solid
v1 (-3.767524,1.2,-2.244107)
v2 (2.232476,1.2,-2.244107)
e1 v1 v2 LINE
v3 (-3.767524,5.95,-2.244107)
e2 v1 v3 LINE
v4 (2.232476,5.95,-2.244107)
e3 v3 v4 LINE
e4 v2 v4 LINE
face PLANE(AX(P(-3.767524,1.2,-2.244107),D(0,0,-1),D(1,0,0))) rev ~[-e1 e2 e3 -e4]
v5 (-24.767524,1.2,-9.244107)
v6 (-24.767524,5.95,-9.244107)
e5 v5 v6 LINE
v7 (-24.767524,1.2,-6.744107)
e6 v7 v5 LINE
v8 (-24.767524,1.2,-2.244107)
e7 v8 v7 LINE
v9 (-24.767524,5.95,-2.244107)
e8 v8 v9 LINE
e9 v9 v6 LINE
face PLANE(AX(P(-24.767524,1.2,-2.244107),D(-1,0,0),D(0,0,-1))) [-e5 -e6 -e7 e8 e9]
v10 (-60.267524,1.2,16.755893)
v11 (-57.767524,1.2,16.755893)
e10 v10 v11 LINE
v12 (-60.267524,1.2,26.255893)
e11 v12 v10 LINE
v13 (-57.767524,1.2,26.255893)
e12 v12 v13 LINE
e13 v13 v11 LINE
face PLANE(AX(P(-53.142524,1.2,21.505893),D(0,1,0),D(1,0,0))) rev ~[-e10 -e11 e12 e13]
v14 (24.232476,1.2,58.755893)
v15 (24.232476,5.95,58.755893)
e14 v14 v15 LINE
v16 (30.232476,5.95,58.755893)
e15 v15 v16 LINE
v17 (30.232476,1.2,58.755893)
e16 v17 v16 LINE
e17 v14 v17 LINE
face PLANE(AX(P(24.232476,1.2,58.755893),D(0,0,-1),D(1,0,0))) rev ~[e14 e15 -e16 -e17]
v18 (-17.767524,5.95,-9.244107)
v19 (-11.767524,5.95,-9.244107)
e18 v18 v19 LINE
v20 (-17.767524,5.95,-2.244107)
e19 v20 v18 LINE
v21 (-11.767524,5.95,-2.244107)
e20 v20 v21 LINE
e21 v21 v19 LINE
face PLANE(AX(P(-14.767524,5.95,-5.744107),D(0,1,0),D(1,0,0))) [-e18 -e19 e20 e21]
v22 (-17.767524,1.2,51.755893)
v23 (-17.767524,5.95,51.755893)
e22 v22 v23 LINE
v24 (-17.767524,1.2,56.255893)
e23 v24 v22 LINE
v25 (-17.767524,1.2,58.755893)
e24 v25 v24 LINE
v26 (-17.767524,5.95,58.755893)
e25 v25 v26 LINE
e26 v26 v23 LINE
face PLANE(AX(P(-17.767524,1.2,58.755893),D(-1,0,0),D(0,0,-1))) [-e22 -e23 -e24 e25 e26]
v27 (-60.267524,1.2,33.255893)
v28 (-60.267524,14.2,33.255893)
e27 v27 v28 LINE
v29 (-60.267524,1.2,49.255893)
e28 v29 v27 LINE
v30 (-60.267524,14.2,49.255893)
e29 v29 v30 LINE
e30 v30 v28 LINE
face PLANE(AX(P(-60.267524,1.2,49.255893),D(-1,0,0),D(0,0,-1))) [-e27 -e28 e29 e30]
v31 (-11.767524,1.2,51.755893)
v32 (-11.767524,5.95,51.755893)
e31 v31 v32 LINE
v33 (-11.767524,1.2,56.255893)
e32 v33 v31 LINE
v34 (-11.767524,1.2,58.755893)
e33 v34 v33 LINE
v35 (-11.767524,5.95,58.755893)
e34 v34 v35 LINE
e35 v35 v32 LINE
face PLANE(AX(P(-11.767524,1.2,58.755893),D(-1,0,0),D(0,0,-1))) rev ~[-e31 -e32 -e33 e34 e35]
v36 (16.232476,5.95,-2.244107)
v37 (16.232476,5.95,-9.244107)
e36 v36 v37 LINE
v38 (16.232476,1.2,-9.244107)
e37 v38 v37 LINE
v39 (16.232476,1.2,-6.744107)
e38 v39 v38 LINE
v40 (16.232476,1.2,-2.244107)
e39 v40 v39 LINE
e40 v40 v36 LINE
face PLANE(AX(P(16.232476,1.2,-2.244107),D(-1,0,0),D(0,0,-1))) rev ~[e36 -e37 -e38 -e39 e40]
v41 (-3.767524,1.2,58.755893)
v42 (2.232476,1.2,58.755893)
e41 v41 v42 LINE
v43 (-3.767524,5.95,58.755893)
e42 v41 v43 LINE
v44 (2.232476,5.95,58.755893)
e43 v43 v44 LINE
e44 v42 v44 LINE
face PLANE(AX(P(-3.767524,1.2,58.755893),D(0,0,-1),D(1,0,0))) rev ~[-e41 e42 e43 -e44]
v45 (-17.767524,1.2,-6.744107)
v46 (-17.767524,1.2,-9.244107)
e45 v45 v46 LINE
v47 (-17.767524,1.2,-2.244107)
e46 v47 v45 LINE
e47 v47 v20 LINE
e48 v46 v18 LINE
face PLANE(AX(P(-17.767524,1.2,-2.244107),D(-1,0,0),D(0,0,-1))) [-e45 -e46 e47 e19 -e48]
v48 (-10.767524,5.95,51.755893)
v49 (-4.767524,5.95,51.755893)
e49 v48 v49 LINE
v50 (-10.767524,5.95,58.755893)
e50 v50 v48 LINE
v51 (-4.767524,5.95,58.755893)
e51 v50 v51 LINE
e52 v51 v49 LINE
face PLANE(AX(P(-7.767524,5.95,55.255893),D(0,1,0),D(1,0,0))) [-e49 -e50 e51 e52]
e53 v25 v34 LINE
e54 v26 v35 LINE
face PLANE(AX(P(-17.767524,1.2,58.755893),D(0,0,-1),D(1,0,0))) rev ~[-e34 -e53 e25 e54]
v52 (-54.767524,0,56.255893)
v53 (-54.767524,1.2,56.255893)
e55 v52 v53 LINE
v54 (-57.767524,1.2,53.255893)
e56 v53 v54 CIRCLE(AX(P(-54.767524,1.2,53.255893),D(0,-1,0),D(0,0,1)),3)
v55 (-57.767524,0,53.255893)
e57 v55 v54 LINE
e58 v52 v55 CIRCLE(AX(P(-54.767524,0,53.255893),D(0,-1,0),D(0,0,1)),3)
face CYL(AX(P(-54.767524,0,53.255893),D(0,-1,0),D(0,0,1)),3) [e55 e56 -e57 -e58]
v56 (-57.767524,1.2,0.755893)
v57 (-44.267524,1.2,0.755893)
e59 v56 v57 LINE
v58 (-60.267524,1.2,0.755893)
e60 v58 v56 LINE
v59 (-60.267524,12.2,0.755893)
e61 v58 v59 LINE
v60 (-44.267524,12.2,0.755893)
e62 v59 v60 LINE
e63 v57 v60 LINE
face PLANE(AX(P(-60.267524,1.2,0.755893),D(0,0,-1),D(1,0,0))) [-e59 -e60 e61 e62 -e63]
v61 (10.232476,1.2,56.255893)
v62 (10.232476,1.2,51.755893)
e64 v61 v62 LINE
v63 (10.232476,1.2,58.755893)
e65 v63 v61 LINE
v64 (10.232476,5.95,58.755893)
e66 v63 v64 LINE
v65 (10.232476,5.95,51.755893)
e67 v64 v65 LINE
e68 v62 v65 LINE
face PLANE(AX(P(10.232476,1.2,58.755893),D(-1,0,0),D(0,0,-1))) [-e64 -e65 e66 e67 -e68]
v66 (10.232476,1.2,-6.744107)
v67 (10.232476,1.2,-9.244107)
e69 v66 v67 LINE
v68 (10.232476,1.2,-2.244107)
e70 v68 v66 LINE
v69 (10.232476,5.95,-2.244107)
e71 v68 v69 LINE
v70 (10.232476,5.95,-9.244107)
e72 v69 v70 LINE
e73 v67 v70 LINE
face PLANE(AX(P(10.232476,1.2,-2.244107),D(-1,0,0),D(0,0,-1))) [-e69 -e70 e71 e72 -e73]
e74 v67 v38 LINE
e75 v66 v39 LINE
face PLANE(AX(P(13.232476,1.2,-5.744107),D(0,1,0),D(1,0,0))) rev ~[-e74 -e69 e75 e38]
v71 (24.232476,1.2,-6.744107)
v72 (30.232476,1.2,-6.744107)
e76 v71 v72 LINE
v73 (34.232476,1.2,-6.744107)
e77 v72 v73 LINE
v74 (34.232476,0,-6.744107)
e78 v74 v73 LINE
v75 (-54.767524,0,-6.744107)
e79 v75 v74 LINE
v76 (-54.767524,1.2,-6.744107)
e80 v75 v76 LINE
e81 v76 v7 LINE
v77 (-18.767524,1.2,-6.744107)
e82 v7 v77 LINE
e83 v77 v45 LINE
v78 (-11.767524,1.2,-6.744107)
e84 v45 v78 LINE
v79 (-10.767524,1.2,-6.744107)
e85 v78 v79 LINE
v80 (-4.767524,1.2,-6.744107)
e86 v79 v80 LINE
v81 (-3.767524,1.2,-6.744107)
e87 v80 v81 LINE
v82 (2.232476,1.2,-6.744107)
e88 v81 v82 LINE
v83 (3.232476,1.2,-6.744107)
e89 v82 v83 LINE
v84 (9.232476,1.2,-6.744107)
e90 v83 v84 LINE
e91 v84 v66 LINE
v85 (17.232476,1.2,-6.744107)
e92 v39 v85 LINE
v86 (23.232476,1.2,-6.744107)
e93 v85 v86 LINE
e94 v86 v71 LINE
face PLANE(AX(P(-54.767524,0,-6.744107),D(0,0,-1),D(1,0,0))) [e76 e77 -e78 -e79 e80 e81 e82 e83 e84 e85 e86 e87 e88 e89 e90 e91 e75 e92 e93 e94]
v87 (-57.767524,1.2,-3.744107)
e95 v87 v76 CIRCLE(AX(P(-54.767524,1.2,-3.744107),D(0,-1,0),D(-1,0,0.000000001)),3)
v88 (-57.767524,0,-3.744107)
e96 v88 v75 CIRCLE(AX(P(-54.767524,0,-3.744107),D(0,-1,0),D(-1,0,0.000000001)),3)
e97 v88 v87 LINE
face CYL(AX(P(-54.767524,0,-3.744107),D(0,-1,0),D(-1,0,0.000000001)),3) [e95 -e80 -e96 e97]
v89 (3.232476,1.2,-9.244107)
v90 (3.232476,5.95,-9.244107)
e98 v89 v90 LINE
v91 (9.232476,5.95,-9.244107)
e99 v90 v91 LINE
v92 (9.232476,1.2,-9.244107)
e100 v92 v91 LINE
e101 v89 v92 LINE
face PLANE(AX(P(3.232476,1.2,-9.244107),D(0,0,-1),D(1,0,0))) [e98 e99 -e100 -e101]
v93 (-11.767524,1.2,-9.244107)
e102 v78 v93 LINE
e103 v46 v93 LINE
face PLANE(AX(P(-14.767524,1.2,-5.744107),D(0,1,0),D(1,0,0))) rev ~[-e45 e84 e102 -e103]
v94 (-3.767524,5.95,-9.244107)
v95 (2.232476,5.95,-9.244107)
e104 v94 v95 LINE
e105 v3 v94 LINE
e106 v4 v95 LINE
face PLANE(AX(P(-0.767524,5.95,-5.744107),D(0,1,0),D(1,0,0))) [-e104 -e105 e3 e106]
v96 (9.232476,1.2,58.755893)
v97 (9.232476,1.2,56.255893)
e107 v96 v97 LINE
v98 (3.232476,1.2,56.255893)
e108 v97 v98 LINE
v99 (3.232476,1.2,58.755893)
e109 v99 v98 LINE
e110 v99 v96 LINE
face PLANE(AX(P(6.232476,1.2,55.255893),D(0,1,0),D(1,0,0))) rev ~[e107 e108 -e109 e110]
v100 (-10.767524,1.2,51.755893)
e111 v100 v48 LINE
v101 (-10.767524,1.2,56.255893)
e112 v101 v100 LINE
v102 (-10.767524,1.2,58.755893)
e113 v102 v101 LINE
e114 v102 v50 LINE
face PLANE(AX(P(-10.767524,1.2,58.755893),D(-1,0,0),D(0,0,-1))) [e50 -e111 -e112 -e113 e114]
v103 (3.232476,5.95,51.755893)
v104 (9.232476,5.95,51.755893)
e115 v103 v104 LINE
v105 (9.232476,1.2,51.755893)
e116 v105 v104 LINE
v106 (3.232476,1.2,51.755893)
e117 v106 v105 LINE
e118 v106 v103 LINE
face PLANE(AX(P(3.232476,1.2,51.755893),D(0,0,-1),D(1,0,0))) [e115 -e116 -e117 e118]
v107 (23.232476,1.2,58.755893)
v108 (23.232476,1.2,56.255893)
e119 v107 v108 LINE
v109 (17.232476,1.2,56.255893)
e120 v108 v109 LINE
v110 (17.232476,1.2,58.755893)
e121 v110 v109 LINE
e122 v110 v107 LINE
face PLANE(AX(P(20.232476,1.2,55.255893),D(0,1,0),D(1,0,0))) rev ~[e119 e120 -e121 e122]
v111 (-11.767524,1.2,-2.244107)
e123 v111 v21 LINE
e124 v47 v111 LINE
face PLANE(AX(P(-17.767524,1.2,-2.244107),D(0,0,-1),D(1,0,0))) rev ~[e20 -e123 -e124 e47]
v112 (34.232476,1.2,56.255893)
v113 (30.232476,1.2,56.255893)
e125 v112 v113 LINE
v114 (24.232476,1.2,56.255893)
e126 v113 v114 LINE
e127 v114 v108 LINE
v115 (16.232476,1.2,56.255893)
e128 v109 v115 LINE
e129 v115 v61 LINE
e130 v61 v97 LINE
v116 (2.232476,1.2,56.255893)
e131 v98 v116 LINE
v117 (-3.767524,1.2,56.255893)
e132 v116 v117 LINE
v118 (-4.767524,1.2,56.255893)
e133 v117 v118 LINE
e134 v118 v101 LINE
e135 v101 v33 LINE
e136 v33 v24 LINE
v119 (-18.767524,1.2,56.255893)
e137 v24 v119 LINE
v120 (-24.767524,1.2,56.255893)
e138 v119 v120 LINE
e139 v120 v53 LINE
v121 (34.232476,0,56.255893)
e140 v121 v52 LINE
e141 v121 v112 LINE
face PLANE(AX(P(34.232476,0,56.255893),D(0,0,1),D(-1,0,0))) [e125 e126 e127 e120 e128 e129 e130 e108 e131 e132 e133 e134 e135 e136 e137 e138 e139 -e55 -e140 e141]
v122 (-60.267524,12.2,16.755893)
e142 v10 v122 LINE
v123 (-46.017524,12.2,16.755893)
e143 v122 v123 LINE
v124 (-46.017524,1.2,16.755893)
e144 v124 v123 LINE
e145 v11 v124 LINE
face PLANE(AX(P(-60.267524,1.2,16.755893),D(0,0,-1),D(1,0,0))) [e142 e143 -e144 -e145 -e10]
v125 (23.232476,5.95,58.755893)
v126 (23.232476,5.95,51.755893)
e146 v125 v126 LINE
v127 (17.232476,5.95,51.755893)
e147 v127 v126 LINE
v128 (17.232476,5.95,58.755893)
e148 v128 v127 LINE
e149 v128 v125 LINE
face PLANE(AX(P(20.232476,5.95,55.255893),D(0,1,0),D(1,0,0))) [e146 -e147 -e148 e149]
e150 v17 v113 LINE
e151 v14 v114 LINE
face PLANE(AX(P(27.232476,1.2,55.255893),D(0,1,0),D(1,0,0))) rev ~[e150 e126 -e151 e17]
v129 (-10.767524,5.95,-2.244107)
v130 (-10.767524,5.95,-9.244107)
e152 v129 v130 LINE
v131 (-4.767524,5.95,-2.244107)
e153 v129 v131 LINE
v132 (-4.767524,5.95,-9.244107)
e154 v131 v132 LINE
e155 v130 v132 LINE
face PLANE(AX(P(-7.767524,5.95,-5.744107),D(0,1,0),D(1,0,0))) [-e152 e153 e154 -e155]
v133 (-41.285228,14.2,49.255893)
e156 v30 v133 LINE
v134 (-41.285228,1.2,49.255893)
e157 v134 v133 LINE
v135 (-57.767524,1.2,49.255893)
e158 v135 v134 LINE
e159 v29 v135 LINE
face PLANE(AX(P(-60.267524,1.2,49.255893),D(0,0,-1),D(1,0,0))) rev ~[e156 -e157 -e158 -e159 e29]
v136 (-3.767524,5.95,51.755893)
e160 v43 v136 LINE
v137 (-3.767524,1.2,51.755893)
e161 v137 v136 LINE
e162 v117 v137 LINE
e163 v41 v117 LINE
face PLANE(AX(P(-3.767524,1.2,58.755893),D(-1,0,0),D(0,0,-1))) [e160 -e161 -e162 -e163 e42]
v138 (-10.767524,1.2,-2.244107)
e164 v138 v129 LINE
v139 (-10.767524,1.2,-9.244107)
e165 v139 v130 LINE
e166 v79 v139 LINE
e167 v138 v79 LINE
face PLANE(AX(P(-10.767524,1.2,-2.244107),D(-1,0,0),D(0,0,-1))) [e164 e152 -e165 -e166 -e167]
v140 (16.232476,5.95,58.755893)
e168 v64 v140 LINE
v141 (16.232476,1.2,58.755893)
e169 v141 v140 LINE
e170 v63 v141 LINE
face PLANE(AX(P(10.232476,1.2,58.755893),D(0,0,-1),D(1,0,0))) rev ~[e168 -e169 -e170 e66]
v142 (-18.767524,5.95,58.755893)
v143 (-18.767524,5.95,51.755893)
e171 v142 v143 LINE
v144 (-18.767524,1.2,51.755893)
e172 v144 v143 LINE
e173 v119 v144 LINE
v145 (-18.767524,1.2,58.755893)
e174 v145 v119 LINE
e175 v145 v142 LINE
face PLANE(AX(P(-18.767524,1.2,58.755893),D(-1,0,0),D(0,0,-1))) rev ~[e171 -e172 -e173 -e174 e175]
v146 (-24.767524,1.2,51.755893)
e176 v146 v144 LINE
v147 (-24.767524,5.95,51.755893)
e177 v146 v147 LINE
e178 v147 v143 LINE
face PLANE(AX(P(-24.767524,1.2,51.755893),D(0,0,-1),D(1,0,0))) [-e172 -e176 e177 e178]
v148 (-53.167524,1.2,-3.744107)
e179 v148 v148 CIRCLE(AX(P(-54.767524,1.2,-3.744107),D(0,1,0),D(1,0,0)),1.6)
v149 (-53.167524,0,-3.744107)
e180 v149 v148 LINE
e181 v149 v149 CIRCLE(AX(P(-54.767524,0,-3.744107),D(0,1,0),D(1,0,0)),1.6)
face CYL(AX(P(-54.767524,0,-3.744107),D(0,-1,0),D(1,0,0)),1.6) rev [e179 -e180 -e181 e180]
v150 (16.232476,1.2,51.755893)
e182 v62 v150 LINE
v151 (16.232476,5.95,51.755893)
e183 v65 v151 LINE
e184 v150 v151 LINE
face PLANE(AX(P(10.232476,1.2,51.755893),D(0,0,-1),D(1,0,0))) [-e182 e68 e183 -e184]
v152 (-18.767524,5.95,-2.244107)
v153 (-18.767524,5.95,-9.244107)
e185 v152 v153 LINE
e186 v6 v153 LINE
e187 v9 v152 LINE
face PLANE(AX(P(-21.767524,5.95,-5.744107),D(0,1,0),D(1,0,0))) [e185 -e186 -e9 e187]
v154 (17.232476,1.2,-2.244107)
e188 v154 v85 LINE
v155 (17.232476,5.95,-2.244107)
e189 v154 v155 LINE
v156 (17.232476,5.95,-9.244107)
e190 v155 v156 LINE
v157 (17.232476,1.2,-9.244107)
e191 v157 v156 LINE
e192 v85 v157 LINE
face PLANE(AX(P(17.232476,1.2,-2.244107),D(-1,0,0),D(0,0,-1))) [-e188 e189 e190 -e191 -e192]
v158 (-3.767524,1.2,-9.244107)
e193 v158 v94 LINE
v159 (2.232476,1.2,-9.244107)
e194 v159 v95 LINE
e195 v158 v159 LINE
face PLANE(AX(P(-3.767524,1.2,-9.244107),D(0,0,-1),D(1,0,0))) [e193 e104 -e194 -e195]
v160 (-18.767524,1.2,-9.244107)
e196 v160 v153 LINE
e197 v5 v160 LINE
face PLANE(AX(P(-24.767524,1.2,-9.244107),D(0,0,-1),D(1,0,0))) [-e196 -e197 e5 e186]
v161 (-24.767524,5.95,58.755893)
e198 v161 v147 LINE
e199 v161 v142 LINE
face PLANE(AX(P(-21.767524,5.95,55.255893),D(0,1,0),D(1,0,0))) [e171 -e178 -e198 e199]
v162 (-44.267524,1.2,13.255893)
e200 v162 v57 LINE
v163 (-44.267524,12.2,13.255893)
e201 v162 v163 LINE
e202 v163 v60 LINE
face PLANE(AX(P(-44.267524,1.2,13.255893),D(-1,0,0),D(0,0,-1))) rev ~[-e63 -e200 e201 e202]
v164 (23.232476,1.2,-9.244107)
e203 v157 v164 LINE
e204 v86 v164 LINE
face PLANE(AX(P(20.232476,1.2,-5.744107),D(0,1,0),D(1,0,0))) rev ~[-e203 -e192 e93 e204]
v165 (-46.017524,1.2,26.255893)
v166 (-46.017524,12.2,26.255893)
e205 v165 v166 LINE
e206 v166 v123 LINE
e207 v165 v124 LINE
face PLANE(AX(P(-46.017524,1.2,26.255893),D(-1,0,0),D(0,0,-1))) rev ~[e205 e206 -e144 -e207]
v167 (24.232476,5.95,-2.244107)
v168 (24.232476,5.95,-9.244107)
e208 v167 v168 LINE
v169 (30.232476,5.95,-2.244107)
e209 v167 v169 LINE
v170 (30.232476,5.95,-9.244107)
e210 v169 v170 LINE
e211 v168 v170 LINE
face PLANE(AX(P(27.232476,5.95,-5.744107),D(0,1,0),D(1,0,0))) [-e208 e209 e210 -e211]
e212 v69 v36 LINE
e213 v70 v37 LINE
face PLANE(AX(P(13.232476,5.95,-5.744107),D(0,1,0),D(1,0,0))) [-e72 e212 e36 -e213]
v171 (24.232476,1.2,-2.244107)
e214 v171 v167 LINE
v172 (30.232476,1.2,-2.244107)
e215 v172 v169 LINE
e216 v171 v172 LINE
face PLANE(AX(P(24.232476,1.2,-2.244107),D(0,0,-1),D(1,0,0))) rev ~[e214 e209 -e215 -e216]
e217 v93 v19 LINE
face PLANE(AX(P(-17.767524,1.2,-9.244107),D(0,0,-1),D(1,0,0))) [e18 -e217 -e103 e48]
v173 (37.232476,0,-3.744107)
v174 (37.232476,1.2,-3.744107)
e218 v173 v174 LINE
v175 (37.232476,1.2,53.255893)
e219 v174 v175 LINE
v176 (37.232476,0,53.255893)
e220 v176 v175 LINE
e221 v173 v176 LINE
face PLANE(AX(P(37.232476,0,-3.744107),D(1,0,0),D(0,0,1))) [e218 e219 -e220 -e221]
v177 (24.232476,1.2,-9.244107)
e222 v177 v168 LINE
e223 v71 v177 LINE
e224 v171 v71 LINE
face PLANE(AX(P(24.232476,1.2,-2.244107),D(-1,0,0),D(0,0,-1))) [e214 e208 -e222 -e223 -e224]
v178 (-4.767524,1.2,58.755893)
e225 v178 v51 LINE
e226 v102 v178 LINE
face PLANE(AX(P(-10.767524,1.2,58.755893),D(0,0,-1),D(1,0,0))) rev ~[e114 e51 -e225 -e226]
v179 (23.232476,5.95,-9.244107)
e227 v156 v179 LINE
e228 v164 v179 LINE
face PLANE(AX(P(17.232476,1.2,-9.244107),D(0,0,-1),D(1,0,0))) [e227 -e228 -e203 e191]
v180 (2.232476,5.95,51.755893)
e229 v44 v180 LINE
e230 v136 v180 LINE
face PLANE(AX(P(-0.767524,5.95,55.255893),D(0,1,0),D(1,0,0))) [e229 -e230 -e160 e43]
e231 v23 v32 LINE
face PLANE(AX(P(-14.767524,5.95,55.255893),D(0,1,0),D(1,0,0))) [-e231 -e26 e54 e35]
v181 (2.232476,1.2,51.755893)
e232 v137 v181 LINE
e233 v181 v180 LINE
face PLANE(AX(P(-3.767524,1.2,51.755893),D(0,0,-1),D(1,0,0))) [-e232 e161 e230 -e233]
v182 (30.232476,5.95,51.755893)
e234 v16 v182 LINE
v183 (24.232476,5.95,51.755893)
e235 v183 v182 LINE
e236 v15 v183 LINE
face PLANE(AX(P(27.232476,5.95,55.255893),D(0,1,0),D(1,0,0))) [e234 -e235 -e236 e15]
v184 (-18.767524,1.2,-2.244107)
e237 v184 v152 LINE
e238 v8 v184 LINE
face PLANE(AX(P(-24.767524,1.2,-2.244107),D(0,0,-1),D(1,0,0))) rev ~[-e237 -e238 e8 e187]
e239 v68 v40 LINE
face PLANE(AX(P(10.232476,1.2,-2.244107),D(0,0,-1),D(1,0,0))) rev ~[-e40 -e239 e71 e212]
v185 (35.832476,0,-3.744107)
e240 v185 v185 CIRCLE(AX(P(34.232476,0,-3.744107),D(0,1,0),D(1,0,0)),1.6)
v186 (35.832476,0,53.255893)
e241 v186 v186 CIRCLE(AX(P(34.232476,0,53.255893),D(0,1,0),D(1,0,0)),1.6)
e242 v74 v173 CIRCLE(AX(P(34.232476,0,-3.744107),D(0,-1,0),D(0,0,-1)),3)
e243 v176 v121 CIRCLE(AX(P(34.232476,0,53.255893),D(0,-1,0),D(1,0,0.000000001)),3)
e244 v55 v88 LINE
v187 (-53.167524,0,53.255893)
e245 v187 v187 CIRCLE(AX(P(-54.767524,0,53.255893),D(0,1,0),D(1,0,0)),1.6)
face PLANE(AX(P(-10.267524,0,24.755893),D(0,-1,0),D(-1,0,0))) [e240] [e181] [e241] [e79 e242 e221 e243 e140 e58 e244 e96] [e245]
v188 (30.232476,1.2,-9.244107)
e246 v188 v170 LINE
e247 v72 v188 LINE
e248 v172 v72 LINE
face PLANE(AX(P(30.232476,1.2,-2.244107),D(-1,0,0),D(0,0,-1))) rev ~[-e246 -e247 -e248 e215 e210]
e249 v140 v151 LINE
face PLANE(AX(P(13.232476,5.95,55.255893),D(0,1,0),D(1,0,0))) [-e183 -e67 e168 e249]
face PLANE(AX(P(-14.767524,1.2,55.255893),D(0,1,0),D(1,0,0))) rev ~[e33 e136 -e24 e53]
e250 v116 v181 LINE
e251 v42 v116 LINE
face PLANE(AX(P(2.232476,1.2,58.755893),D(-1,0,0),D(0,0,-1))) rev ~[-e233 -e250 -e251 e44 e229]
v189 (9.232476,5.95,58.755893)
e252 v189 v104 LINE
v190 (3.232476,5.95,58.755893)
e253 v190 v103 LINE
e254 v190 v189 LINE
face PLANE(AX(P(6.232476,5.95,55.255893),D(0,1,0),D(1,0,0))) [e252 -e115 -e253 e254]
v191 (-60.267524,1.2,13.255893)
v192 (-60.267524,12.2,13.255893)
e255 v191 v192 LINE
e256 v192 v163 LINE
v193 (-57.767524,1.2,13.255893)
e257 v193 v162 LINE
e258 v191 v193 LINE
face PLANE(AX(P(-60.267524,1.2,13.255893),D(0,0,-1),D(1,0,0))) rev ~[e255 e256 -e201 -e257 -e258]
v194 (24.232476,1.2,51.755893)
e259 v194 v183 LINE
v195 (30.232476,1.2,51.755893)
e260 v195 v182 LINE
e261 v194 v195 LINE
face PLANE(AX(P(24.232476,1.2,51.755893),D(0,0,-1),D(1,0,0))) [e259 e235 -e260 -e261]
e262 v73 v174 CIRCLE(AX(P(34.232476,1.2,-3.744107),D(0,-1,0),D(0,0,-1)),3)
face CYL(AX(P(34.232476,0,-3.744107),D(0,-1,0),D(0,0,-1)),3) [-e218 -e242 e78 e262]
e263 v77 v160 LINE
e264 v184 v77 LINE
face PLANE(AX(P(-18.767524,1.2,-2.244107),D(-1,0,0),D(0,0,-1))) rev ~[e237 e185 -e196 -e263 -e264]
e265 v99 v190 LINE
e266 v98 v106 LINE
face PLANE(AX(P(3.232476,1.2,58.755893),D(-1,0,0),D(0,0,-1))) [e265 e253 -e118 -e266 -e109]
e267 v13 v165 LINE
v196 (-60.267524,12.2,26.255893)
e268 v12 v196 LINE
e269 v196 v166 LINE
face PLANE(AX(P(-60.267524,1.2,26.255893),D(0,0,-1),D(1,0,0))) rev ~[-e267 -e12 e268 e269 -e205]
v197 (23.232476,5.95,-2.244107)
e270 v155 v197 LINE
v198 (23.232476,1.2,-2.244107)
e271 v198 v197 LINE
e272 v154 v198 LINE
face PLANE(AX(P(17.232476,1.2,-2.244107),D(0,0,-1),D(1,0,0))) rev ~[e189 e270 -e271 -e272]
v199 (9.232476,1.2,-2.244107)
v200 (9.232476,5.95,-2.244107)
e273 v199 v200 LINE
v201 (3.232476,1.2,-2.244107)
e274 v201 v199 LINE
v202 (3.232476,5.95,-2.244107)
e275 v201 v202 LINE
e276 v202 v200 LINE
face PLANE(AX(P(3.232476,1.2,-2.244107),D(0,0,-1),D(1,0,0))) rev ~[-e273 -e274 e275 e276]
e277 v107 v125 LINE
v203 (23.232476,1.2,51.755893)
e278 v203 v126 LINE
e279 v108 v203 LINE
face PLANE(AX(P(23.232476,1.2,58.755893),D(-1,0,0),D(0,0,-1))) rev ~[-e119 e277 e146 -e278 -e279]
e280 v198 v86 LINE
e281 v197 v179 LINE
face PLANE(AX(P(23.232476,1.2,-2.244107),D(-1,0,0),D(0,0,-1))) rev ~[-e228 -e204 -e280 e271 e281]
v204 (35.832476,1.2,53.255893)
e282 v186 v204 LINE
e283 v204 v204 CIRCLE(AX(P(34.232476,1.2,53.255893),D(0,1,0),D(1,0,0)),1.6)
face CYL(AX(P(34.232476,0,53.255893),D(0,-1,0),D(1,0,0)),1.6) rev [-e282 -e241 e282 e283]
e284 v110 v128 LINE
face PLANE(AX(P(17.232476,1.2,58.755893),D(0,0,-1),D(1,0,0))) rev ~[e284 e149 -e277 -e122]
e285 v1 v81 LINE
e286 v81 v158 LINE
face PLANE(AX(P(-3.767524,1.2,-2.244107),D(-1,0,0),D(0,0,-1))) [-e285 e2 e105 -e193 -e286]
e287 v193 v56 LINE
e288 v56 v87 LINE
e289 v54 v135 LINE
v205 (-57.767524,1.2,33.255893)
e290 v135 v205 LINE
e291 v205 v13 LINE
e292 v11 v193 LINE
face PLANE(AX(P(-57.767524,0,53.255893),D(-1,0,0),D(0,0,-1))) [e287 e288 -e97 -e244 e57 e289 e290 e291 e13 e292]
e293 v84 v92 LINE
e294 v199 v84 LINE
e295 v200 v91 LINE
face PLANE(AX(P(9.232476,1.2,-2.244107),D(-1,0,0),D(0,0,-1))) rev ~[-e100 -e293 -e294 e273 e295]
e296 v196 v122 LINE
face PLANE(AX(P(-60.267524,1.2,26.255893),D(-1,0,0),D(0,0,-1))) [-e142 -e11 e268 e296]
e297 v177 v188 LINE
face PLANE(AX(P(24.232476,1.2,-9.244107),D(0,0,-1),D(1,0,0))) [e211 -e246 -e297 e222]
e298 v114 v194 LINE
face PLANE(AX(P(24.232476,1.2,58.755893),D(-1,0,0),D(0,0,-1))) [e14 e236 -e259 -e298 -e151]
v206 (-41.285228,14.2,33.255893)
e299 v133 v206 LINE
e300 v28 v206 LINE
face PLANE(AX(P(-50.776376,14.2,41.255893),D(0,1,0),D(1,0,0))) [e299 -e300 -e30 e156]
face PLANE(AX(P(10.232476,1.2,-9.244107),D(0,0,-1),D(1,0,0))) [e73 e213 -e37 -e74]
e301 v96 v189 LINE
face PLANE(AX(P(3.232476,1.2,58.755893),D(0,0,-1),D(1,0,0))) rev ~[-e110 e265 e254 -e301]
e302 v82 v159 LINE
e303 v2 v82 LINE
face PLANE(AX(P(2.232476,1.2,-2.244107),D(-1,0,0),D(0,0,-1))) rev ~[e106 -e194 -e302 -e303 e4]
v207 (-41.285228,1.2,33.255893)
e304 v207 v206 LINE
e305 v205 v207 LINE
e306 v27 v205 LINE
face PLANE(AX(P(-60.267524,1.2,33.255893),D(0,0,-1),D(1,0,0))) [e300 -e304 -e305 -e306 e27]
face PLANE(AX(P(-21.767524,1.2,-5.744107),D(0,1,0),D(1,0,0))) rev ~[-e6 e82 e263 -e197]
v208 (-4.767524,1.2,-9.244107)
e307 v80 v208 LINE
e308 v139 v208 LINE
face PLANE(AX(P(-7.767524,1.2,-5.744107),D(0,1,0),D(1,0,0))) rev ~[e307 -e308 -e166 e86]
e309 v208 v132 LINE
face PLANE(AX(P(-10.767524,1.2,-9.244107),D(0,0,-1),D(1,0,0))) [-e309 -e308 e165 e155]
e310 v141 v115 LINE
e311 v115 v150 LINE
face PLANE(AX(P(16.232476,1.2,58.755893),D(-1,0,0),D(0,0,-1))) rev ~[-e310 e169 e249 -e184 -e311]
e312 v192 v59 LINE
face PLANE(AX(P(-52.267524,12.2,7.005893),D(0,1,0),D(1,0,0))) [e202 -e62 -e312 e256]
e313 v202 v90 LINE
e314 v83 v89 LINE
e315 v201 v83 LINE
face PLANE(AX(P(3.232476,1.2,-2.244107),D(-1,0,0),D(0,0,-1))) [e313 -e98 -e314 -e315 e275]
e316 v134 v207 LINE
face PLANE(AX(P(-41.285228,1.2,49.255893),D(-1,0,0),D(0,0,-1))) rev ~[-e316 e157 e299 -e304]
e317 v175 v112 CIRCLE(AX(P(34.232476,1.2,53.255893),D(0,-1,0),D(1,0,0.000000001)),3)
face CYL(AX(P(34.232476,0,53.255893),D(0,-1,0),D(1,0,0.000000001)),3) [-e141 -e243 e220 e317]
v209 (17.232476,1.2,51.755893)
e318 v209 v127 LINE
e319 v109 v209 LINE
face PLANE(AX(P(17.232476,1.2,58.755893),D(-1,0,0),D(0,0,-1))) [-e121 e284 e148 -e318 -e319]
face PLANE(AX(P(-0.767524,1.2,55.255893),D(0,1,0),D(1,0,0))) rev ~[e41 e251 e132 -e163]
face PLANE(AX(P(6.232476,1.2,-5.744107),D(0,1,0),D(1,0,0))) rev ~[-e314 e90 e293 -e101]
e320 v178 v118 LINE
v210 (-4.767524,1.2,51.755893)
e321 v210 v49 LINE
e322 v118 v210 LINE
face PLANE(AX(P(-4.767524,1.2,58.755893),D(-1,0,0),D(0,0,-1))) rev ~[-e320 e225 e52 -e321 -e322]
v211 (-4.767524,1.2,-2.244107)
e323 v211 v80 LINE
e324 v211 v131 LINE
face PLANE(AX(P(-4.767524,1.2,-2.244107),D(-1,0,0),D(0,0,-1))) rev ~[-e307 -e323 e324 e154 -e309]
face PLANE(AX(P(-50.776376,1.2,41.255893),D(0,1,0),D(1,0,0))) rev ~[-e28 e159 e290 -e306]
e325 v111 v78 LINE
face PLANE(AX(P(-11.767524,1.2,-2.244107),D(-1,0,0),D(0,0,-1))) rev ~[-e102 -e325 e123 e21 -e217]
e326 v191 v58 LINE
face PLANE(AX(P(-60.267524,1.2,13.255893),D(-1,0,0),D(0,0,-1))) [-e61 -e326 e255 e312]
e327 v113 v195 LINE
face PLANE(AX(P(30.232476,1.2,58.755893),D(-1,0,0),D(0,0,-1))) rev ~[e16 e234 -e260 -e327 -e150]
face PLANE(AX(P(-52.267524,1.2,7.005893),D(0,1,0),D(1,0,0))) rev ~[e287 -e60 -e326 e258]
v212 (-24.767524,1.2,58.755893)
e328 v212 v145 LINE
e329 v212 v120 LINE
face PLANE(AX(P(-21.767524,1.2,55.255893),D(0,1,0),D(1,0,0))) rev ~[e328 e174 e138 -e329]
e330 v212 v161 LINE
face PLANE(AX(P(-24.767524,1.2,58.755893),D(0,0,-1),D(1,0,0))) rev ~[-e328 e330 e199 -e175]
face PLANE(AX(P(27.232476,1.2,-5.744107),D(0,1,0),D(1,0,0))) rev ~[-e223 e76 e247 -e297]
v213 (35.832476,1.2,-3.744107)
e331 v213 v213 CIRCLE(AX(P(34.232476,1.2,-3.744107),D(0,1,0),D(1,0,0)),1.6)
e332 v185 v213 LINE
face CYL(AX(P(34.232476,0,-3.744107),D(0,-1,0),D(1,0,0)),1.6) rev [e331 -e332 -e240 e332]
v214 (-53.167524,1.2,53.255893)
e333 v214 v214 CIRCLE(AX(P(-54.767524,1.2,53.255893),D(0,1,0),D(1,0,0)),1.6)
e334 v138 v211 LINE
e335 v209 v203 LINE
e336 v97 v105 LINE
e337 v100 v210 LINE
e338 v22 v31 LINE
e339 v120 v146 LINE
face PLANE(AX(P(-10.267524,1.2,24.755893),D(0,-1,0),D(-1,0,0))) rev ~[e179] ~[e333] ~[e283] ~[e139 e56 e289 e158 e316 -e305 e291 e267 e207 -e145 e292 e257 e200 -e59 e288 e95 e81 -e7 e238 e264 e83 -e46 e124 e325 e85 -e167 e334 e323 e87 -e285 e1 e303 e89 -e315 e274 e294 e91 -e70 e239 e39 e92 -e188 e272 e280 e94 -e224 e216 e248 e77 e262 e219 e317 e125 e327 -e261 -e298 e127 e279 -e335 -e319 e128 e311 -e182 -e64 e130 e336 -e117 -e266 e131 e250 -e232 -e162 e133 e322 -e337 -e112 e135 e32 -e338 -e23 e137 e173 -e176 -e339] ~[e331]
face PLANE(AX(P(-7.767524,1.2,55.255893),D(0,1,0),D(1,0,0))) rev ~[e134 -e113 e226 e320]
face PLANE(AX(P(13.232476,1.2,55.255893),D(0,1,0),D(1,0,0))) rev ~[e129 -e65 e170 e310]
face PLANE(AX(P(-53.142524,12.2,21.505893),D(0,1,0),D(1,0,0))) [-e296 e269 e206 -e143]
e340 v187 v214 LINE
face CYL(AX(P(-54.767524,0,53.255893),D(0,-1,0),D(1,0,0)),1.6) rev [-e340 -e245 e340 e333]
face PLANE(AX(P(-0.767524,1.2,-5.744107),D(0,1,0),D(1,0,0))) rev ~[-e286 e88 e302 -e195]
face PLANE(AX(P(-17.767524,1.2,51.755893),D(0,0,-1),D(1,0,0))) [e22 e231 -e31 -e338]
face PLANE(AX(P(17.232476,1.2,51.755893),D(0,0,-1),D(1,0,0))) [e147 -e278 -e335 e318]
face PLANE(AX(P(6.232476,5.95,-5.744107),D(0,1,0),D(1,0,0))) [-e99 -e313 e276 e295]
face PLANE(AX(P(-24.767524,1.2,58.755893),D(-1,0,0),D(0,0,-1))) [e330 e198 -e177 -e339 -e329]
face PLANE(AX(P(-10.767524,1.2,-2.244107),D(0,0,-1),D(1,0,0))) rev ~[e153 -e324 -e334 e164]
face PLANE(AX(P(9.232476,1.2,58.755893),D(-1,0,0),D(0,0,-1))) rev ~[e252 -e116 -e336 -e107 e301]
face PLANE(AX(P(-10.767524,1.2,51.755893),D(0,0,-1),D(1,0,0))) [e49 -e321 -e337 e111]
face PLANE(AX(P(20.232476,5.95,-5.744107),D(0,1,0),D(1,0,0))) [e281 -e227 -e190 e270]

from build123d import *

# Parameters (mm, degrees)
SKETCH1_R            = 1.6
PCB_DEPTH            = 1.2
SKETCH2_W            = 6
SKETCH2_H            = 7
POP_CONNECTORS_DEPTH = 4.75
USB_W                = 16
USB_H                = 12.5
USB_B_DEPTH          = 11
SKETCH4_W            = 14.25
SKETCH4_H            = 9.5
DC_POWER_DEPTH       = 11
SKETCH5_W            = 18.982296278
SKETCH5_H            = 16
RJ45_DEPTH           = 13


with BuildPart() as part:
    # Sketch1 → pcb (new body)
    with BuildSketch(Plane(origin=(0, 0, 0), x_dir=(1, 0, 0), z_dir=(0, 1, 0))):
        with BuildLine():
            Line((-54.767524261, 6.744107228), (34.232475739, 6.744107228))
            ThreePointArc((34.232475739, 6.744107228), (36.353796082, 5.865427572), (37.232475739, 3.744107228))
            Line((37.232475739, 3.744107228), (37.232475739, -53.255892772))
            ThreePointArc((37.232475739, -53.255892772), (36.353796082, -55.377213115), (34.232475739, -56.255892772))
            Line((34.232475739, -56.255892772), (-54.767524261, -56.255892772))
            ThreePointArc((-54.767524261, -56.255892772), (-56.888844605, -55.377213115), (-57.767524261, -53.255892772))
            Line((-57.767524261, -53.255892772), (-57.767524261, 3.744107228))
            ThreePointArc((-57.767524261, 3.744107228), (-56.888844605, 5.865427572), (-54.767524261, 6.744107228))
        make_face()
        with Locations((-54.767524261, 3.744107228)):
            Circle(SKETCH1_R, mode=Mode.SUBTRACT)
        with Locations((-54.767524261, -53.255892772)):
            Circle(SKETCH1_R, mode=Mode.SUBTRACT)
        with Locations((34.232475739, -53.255892772)):
            Circle(SKETCH1_R, mode=Mode.SUBTRACT)
        with Locations((34.232475739, 3.744107228)):
            Circle(SKETCH1_R, mode=Mode.SUBTRACT)
    extrude(amount=PCB_DEPTH)

    # Sketch2 → pop connectors (add)
    with BuildSketch(Plane(origin=(0, 1.2, 0), x_dir=(1, 0, 0), z_dir=(0, 1, 0))):
        with Locations((-14.767524261, -55.255892772)):
            Rectangle(SKETCH2_W, SKETCH2_H)
        with Locations((-21.767524261, -55.255892772)):
            Rectangle(SKETCH2_W, SKETCH2_H)
        with Locations((-7.767524261, -55.255892772)):
            Rectangle(SKETCH2_W, SKETCH2_H)
        with Locations((-0.767524261, -55.255892772)):
            Rectangle(SKETCH2_W, SKETCH2_H)
        with Locations((6.232475739, -55.255892772)):
            Rectangle(SKETCH2_W, SKETCH2_H)
        with Locations((13.232475739, -55.255892772)):
            Rectangle(SKETCH2_W, SKETCH2_H)
        with Locations((20.232475739, -55.255892772)):
            Rectangle(SKETCH2_W, SKETCH2_H)
        with Locations((27.232475739, -55.255892772)):
            Rectangle(SKETCH2_W, SKETCH2_H)
        with Locations((27.232475739, 5.744107228)):
            Rectangle(SKETCH2_W, SKETCH2_H)
        with Locations((20.232475739, 5.744107228)):
            Rectangle(SKETCH2_W, SKETCH2_H)
        with Locations((13.232475739, 5.744107228)):
            Rectangle(SKETCH2_W, SKETCH2_H)
        with Locations((6.232475739, 5.744107228)):
            Rectangle(SKETCH2_W, SKETCH2_H)
        with Locations((-0.767524261, 5.744107228)):
            Rectangle(SKETCH2_W, SKETCH2_H)
        with Locations((-7.767524261, 5.744107228)):
            Rectangle(SKETCH2_W, SKETCH2_H)
        with Locations((-14.767524261, 5.744107228)):
            Rectangle(SKETCH2_W, SKETCH2_H)
        with Locations((-21.767524261, 5.744107228)):
            Rectangle(SKETCH2_W, SKETCH2_H)
    extrude(amount=POP_CONNECTORS_DEPTH)

    # usb → USB B (add)
    with BuildSketch(Plane(origin=(0, 1.2, 0), x_dir=(1, 0, 0), z_dir=(0, 1, 0))):
        with Locations((-52.267524261, -7.005892772)):
            Rectangle(USB_W, USB_H)
    extrude(amount=USB_B_DEPTH)

    # Sketch4 → DC power (add)
    with BuildSketch(Plane(origin=(0, 1.2, 0), x_dir=(1, 0, 0), z_dir=(0, 1, 0))):
        with Locations((-53.142524261, -21.505892772)):
            Rectangle(SKETCH4_W, SKETCH4_H)
    extrude(amount=DC_POWER_DEPTH)

    # Sketch5 → RJ45 (add)
    with BuildSketch(Plane(origin=(0, 1.2, 0), x_dir=(1, 0, 0), z_dir=(0, 1, 0))):
        with Locations((-50.776376122, -41.255892772)):
            Rectangle(SKETCH5_W, SKETCH5_H)
    extrude(amount=RJ45_DEPTH)


solid = part.part
